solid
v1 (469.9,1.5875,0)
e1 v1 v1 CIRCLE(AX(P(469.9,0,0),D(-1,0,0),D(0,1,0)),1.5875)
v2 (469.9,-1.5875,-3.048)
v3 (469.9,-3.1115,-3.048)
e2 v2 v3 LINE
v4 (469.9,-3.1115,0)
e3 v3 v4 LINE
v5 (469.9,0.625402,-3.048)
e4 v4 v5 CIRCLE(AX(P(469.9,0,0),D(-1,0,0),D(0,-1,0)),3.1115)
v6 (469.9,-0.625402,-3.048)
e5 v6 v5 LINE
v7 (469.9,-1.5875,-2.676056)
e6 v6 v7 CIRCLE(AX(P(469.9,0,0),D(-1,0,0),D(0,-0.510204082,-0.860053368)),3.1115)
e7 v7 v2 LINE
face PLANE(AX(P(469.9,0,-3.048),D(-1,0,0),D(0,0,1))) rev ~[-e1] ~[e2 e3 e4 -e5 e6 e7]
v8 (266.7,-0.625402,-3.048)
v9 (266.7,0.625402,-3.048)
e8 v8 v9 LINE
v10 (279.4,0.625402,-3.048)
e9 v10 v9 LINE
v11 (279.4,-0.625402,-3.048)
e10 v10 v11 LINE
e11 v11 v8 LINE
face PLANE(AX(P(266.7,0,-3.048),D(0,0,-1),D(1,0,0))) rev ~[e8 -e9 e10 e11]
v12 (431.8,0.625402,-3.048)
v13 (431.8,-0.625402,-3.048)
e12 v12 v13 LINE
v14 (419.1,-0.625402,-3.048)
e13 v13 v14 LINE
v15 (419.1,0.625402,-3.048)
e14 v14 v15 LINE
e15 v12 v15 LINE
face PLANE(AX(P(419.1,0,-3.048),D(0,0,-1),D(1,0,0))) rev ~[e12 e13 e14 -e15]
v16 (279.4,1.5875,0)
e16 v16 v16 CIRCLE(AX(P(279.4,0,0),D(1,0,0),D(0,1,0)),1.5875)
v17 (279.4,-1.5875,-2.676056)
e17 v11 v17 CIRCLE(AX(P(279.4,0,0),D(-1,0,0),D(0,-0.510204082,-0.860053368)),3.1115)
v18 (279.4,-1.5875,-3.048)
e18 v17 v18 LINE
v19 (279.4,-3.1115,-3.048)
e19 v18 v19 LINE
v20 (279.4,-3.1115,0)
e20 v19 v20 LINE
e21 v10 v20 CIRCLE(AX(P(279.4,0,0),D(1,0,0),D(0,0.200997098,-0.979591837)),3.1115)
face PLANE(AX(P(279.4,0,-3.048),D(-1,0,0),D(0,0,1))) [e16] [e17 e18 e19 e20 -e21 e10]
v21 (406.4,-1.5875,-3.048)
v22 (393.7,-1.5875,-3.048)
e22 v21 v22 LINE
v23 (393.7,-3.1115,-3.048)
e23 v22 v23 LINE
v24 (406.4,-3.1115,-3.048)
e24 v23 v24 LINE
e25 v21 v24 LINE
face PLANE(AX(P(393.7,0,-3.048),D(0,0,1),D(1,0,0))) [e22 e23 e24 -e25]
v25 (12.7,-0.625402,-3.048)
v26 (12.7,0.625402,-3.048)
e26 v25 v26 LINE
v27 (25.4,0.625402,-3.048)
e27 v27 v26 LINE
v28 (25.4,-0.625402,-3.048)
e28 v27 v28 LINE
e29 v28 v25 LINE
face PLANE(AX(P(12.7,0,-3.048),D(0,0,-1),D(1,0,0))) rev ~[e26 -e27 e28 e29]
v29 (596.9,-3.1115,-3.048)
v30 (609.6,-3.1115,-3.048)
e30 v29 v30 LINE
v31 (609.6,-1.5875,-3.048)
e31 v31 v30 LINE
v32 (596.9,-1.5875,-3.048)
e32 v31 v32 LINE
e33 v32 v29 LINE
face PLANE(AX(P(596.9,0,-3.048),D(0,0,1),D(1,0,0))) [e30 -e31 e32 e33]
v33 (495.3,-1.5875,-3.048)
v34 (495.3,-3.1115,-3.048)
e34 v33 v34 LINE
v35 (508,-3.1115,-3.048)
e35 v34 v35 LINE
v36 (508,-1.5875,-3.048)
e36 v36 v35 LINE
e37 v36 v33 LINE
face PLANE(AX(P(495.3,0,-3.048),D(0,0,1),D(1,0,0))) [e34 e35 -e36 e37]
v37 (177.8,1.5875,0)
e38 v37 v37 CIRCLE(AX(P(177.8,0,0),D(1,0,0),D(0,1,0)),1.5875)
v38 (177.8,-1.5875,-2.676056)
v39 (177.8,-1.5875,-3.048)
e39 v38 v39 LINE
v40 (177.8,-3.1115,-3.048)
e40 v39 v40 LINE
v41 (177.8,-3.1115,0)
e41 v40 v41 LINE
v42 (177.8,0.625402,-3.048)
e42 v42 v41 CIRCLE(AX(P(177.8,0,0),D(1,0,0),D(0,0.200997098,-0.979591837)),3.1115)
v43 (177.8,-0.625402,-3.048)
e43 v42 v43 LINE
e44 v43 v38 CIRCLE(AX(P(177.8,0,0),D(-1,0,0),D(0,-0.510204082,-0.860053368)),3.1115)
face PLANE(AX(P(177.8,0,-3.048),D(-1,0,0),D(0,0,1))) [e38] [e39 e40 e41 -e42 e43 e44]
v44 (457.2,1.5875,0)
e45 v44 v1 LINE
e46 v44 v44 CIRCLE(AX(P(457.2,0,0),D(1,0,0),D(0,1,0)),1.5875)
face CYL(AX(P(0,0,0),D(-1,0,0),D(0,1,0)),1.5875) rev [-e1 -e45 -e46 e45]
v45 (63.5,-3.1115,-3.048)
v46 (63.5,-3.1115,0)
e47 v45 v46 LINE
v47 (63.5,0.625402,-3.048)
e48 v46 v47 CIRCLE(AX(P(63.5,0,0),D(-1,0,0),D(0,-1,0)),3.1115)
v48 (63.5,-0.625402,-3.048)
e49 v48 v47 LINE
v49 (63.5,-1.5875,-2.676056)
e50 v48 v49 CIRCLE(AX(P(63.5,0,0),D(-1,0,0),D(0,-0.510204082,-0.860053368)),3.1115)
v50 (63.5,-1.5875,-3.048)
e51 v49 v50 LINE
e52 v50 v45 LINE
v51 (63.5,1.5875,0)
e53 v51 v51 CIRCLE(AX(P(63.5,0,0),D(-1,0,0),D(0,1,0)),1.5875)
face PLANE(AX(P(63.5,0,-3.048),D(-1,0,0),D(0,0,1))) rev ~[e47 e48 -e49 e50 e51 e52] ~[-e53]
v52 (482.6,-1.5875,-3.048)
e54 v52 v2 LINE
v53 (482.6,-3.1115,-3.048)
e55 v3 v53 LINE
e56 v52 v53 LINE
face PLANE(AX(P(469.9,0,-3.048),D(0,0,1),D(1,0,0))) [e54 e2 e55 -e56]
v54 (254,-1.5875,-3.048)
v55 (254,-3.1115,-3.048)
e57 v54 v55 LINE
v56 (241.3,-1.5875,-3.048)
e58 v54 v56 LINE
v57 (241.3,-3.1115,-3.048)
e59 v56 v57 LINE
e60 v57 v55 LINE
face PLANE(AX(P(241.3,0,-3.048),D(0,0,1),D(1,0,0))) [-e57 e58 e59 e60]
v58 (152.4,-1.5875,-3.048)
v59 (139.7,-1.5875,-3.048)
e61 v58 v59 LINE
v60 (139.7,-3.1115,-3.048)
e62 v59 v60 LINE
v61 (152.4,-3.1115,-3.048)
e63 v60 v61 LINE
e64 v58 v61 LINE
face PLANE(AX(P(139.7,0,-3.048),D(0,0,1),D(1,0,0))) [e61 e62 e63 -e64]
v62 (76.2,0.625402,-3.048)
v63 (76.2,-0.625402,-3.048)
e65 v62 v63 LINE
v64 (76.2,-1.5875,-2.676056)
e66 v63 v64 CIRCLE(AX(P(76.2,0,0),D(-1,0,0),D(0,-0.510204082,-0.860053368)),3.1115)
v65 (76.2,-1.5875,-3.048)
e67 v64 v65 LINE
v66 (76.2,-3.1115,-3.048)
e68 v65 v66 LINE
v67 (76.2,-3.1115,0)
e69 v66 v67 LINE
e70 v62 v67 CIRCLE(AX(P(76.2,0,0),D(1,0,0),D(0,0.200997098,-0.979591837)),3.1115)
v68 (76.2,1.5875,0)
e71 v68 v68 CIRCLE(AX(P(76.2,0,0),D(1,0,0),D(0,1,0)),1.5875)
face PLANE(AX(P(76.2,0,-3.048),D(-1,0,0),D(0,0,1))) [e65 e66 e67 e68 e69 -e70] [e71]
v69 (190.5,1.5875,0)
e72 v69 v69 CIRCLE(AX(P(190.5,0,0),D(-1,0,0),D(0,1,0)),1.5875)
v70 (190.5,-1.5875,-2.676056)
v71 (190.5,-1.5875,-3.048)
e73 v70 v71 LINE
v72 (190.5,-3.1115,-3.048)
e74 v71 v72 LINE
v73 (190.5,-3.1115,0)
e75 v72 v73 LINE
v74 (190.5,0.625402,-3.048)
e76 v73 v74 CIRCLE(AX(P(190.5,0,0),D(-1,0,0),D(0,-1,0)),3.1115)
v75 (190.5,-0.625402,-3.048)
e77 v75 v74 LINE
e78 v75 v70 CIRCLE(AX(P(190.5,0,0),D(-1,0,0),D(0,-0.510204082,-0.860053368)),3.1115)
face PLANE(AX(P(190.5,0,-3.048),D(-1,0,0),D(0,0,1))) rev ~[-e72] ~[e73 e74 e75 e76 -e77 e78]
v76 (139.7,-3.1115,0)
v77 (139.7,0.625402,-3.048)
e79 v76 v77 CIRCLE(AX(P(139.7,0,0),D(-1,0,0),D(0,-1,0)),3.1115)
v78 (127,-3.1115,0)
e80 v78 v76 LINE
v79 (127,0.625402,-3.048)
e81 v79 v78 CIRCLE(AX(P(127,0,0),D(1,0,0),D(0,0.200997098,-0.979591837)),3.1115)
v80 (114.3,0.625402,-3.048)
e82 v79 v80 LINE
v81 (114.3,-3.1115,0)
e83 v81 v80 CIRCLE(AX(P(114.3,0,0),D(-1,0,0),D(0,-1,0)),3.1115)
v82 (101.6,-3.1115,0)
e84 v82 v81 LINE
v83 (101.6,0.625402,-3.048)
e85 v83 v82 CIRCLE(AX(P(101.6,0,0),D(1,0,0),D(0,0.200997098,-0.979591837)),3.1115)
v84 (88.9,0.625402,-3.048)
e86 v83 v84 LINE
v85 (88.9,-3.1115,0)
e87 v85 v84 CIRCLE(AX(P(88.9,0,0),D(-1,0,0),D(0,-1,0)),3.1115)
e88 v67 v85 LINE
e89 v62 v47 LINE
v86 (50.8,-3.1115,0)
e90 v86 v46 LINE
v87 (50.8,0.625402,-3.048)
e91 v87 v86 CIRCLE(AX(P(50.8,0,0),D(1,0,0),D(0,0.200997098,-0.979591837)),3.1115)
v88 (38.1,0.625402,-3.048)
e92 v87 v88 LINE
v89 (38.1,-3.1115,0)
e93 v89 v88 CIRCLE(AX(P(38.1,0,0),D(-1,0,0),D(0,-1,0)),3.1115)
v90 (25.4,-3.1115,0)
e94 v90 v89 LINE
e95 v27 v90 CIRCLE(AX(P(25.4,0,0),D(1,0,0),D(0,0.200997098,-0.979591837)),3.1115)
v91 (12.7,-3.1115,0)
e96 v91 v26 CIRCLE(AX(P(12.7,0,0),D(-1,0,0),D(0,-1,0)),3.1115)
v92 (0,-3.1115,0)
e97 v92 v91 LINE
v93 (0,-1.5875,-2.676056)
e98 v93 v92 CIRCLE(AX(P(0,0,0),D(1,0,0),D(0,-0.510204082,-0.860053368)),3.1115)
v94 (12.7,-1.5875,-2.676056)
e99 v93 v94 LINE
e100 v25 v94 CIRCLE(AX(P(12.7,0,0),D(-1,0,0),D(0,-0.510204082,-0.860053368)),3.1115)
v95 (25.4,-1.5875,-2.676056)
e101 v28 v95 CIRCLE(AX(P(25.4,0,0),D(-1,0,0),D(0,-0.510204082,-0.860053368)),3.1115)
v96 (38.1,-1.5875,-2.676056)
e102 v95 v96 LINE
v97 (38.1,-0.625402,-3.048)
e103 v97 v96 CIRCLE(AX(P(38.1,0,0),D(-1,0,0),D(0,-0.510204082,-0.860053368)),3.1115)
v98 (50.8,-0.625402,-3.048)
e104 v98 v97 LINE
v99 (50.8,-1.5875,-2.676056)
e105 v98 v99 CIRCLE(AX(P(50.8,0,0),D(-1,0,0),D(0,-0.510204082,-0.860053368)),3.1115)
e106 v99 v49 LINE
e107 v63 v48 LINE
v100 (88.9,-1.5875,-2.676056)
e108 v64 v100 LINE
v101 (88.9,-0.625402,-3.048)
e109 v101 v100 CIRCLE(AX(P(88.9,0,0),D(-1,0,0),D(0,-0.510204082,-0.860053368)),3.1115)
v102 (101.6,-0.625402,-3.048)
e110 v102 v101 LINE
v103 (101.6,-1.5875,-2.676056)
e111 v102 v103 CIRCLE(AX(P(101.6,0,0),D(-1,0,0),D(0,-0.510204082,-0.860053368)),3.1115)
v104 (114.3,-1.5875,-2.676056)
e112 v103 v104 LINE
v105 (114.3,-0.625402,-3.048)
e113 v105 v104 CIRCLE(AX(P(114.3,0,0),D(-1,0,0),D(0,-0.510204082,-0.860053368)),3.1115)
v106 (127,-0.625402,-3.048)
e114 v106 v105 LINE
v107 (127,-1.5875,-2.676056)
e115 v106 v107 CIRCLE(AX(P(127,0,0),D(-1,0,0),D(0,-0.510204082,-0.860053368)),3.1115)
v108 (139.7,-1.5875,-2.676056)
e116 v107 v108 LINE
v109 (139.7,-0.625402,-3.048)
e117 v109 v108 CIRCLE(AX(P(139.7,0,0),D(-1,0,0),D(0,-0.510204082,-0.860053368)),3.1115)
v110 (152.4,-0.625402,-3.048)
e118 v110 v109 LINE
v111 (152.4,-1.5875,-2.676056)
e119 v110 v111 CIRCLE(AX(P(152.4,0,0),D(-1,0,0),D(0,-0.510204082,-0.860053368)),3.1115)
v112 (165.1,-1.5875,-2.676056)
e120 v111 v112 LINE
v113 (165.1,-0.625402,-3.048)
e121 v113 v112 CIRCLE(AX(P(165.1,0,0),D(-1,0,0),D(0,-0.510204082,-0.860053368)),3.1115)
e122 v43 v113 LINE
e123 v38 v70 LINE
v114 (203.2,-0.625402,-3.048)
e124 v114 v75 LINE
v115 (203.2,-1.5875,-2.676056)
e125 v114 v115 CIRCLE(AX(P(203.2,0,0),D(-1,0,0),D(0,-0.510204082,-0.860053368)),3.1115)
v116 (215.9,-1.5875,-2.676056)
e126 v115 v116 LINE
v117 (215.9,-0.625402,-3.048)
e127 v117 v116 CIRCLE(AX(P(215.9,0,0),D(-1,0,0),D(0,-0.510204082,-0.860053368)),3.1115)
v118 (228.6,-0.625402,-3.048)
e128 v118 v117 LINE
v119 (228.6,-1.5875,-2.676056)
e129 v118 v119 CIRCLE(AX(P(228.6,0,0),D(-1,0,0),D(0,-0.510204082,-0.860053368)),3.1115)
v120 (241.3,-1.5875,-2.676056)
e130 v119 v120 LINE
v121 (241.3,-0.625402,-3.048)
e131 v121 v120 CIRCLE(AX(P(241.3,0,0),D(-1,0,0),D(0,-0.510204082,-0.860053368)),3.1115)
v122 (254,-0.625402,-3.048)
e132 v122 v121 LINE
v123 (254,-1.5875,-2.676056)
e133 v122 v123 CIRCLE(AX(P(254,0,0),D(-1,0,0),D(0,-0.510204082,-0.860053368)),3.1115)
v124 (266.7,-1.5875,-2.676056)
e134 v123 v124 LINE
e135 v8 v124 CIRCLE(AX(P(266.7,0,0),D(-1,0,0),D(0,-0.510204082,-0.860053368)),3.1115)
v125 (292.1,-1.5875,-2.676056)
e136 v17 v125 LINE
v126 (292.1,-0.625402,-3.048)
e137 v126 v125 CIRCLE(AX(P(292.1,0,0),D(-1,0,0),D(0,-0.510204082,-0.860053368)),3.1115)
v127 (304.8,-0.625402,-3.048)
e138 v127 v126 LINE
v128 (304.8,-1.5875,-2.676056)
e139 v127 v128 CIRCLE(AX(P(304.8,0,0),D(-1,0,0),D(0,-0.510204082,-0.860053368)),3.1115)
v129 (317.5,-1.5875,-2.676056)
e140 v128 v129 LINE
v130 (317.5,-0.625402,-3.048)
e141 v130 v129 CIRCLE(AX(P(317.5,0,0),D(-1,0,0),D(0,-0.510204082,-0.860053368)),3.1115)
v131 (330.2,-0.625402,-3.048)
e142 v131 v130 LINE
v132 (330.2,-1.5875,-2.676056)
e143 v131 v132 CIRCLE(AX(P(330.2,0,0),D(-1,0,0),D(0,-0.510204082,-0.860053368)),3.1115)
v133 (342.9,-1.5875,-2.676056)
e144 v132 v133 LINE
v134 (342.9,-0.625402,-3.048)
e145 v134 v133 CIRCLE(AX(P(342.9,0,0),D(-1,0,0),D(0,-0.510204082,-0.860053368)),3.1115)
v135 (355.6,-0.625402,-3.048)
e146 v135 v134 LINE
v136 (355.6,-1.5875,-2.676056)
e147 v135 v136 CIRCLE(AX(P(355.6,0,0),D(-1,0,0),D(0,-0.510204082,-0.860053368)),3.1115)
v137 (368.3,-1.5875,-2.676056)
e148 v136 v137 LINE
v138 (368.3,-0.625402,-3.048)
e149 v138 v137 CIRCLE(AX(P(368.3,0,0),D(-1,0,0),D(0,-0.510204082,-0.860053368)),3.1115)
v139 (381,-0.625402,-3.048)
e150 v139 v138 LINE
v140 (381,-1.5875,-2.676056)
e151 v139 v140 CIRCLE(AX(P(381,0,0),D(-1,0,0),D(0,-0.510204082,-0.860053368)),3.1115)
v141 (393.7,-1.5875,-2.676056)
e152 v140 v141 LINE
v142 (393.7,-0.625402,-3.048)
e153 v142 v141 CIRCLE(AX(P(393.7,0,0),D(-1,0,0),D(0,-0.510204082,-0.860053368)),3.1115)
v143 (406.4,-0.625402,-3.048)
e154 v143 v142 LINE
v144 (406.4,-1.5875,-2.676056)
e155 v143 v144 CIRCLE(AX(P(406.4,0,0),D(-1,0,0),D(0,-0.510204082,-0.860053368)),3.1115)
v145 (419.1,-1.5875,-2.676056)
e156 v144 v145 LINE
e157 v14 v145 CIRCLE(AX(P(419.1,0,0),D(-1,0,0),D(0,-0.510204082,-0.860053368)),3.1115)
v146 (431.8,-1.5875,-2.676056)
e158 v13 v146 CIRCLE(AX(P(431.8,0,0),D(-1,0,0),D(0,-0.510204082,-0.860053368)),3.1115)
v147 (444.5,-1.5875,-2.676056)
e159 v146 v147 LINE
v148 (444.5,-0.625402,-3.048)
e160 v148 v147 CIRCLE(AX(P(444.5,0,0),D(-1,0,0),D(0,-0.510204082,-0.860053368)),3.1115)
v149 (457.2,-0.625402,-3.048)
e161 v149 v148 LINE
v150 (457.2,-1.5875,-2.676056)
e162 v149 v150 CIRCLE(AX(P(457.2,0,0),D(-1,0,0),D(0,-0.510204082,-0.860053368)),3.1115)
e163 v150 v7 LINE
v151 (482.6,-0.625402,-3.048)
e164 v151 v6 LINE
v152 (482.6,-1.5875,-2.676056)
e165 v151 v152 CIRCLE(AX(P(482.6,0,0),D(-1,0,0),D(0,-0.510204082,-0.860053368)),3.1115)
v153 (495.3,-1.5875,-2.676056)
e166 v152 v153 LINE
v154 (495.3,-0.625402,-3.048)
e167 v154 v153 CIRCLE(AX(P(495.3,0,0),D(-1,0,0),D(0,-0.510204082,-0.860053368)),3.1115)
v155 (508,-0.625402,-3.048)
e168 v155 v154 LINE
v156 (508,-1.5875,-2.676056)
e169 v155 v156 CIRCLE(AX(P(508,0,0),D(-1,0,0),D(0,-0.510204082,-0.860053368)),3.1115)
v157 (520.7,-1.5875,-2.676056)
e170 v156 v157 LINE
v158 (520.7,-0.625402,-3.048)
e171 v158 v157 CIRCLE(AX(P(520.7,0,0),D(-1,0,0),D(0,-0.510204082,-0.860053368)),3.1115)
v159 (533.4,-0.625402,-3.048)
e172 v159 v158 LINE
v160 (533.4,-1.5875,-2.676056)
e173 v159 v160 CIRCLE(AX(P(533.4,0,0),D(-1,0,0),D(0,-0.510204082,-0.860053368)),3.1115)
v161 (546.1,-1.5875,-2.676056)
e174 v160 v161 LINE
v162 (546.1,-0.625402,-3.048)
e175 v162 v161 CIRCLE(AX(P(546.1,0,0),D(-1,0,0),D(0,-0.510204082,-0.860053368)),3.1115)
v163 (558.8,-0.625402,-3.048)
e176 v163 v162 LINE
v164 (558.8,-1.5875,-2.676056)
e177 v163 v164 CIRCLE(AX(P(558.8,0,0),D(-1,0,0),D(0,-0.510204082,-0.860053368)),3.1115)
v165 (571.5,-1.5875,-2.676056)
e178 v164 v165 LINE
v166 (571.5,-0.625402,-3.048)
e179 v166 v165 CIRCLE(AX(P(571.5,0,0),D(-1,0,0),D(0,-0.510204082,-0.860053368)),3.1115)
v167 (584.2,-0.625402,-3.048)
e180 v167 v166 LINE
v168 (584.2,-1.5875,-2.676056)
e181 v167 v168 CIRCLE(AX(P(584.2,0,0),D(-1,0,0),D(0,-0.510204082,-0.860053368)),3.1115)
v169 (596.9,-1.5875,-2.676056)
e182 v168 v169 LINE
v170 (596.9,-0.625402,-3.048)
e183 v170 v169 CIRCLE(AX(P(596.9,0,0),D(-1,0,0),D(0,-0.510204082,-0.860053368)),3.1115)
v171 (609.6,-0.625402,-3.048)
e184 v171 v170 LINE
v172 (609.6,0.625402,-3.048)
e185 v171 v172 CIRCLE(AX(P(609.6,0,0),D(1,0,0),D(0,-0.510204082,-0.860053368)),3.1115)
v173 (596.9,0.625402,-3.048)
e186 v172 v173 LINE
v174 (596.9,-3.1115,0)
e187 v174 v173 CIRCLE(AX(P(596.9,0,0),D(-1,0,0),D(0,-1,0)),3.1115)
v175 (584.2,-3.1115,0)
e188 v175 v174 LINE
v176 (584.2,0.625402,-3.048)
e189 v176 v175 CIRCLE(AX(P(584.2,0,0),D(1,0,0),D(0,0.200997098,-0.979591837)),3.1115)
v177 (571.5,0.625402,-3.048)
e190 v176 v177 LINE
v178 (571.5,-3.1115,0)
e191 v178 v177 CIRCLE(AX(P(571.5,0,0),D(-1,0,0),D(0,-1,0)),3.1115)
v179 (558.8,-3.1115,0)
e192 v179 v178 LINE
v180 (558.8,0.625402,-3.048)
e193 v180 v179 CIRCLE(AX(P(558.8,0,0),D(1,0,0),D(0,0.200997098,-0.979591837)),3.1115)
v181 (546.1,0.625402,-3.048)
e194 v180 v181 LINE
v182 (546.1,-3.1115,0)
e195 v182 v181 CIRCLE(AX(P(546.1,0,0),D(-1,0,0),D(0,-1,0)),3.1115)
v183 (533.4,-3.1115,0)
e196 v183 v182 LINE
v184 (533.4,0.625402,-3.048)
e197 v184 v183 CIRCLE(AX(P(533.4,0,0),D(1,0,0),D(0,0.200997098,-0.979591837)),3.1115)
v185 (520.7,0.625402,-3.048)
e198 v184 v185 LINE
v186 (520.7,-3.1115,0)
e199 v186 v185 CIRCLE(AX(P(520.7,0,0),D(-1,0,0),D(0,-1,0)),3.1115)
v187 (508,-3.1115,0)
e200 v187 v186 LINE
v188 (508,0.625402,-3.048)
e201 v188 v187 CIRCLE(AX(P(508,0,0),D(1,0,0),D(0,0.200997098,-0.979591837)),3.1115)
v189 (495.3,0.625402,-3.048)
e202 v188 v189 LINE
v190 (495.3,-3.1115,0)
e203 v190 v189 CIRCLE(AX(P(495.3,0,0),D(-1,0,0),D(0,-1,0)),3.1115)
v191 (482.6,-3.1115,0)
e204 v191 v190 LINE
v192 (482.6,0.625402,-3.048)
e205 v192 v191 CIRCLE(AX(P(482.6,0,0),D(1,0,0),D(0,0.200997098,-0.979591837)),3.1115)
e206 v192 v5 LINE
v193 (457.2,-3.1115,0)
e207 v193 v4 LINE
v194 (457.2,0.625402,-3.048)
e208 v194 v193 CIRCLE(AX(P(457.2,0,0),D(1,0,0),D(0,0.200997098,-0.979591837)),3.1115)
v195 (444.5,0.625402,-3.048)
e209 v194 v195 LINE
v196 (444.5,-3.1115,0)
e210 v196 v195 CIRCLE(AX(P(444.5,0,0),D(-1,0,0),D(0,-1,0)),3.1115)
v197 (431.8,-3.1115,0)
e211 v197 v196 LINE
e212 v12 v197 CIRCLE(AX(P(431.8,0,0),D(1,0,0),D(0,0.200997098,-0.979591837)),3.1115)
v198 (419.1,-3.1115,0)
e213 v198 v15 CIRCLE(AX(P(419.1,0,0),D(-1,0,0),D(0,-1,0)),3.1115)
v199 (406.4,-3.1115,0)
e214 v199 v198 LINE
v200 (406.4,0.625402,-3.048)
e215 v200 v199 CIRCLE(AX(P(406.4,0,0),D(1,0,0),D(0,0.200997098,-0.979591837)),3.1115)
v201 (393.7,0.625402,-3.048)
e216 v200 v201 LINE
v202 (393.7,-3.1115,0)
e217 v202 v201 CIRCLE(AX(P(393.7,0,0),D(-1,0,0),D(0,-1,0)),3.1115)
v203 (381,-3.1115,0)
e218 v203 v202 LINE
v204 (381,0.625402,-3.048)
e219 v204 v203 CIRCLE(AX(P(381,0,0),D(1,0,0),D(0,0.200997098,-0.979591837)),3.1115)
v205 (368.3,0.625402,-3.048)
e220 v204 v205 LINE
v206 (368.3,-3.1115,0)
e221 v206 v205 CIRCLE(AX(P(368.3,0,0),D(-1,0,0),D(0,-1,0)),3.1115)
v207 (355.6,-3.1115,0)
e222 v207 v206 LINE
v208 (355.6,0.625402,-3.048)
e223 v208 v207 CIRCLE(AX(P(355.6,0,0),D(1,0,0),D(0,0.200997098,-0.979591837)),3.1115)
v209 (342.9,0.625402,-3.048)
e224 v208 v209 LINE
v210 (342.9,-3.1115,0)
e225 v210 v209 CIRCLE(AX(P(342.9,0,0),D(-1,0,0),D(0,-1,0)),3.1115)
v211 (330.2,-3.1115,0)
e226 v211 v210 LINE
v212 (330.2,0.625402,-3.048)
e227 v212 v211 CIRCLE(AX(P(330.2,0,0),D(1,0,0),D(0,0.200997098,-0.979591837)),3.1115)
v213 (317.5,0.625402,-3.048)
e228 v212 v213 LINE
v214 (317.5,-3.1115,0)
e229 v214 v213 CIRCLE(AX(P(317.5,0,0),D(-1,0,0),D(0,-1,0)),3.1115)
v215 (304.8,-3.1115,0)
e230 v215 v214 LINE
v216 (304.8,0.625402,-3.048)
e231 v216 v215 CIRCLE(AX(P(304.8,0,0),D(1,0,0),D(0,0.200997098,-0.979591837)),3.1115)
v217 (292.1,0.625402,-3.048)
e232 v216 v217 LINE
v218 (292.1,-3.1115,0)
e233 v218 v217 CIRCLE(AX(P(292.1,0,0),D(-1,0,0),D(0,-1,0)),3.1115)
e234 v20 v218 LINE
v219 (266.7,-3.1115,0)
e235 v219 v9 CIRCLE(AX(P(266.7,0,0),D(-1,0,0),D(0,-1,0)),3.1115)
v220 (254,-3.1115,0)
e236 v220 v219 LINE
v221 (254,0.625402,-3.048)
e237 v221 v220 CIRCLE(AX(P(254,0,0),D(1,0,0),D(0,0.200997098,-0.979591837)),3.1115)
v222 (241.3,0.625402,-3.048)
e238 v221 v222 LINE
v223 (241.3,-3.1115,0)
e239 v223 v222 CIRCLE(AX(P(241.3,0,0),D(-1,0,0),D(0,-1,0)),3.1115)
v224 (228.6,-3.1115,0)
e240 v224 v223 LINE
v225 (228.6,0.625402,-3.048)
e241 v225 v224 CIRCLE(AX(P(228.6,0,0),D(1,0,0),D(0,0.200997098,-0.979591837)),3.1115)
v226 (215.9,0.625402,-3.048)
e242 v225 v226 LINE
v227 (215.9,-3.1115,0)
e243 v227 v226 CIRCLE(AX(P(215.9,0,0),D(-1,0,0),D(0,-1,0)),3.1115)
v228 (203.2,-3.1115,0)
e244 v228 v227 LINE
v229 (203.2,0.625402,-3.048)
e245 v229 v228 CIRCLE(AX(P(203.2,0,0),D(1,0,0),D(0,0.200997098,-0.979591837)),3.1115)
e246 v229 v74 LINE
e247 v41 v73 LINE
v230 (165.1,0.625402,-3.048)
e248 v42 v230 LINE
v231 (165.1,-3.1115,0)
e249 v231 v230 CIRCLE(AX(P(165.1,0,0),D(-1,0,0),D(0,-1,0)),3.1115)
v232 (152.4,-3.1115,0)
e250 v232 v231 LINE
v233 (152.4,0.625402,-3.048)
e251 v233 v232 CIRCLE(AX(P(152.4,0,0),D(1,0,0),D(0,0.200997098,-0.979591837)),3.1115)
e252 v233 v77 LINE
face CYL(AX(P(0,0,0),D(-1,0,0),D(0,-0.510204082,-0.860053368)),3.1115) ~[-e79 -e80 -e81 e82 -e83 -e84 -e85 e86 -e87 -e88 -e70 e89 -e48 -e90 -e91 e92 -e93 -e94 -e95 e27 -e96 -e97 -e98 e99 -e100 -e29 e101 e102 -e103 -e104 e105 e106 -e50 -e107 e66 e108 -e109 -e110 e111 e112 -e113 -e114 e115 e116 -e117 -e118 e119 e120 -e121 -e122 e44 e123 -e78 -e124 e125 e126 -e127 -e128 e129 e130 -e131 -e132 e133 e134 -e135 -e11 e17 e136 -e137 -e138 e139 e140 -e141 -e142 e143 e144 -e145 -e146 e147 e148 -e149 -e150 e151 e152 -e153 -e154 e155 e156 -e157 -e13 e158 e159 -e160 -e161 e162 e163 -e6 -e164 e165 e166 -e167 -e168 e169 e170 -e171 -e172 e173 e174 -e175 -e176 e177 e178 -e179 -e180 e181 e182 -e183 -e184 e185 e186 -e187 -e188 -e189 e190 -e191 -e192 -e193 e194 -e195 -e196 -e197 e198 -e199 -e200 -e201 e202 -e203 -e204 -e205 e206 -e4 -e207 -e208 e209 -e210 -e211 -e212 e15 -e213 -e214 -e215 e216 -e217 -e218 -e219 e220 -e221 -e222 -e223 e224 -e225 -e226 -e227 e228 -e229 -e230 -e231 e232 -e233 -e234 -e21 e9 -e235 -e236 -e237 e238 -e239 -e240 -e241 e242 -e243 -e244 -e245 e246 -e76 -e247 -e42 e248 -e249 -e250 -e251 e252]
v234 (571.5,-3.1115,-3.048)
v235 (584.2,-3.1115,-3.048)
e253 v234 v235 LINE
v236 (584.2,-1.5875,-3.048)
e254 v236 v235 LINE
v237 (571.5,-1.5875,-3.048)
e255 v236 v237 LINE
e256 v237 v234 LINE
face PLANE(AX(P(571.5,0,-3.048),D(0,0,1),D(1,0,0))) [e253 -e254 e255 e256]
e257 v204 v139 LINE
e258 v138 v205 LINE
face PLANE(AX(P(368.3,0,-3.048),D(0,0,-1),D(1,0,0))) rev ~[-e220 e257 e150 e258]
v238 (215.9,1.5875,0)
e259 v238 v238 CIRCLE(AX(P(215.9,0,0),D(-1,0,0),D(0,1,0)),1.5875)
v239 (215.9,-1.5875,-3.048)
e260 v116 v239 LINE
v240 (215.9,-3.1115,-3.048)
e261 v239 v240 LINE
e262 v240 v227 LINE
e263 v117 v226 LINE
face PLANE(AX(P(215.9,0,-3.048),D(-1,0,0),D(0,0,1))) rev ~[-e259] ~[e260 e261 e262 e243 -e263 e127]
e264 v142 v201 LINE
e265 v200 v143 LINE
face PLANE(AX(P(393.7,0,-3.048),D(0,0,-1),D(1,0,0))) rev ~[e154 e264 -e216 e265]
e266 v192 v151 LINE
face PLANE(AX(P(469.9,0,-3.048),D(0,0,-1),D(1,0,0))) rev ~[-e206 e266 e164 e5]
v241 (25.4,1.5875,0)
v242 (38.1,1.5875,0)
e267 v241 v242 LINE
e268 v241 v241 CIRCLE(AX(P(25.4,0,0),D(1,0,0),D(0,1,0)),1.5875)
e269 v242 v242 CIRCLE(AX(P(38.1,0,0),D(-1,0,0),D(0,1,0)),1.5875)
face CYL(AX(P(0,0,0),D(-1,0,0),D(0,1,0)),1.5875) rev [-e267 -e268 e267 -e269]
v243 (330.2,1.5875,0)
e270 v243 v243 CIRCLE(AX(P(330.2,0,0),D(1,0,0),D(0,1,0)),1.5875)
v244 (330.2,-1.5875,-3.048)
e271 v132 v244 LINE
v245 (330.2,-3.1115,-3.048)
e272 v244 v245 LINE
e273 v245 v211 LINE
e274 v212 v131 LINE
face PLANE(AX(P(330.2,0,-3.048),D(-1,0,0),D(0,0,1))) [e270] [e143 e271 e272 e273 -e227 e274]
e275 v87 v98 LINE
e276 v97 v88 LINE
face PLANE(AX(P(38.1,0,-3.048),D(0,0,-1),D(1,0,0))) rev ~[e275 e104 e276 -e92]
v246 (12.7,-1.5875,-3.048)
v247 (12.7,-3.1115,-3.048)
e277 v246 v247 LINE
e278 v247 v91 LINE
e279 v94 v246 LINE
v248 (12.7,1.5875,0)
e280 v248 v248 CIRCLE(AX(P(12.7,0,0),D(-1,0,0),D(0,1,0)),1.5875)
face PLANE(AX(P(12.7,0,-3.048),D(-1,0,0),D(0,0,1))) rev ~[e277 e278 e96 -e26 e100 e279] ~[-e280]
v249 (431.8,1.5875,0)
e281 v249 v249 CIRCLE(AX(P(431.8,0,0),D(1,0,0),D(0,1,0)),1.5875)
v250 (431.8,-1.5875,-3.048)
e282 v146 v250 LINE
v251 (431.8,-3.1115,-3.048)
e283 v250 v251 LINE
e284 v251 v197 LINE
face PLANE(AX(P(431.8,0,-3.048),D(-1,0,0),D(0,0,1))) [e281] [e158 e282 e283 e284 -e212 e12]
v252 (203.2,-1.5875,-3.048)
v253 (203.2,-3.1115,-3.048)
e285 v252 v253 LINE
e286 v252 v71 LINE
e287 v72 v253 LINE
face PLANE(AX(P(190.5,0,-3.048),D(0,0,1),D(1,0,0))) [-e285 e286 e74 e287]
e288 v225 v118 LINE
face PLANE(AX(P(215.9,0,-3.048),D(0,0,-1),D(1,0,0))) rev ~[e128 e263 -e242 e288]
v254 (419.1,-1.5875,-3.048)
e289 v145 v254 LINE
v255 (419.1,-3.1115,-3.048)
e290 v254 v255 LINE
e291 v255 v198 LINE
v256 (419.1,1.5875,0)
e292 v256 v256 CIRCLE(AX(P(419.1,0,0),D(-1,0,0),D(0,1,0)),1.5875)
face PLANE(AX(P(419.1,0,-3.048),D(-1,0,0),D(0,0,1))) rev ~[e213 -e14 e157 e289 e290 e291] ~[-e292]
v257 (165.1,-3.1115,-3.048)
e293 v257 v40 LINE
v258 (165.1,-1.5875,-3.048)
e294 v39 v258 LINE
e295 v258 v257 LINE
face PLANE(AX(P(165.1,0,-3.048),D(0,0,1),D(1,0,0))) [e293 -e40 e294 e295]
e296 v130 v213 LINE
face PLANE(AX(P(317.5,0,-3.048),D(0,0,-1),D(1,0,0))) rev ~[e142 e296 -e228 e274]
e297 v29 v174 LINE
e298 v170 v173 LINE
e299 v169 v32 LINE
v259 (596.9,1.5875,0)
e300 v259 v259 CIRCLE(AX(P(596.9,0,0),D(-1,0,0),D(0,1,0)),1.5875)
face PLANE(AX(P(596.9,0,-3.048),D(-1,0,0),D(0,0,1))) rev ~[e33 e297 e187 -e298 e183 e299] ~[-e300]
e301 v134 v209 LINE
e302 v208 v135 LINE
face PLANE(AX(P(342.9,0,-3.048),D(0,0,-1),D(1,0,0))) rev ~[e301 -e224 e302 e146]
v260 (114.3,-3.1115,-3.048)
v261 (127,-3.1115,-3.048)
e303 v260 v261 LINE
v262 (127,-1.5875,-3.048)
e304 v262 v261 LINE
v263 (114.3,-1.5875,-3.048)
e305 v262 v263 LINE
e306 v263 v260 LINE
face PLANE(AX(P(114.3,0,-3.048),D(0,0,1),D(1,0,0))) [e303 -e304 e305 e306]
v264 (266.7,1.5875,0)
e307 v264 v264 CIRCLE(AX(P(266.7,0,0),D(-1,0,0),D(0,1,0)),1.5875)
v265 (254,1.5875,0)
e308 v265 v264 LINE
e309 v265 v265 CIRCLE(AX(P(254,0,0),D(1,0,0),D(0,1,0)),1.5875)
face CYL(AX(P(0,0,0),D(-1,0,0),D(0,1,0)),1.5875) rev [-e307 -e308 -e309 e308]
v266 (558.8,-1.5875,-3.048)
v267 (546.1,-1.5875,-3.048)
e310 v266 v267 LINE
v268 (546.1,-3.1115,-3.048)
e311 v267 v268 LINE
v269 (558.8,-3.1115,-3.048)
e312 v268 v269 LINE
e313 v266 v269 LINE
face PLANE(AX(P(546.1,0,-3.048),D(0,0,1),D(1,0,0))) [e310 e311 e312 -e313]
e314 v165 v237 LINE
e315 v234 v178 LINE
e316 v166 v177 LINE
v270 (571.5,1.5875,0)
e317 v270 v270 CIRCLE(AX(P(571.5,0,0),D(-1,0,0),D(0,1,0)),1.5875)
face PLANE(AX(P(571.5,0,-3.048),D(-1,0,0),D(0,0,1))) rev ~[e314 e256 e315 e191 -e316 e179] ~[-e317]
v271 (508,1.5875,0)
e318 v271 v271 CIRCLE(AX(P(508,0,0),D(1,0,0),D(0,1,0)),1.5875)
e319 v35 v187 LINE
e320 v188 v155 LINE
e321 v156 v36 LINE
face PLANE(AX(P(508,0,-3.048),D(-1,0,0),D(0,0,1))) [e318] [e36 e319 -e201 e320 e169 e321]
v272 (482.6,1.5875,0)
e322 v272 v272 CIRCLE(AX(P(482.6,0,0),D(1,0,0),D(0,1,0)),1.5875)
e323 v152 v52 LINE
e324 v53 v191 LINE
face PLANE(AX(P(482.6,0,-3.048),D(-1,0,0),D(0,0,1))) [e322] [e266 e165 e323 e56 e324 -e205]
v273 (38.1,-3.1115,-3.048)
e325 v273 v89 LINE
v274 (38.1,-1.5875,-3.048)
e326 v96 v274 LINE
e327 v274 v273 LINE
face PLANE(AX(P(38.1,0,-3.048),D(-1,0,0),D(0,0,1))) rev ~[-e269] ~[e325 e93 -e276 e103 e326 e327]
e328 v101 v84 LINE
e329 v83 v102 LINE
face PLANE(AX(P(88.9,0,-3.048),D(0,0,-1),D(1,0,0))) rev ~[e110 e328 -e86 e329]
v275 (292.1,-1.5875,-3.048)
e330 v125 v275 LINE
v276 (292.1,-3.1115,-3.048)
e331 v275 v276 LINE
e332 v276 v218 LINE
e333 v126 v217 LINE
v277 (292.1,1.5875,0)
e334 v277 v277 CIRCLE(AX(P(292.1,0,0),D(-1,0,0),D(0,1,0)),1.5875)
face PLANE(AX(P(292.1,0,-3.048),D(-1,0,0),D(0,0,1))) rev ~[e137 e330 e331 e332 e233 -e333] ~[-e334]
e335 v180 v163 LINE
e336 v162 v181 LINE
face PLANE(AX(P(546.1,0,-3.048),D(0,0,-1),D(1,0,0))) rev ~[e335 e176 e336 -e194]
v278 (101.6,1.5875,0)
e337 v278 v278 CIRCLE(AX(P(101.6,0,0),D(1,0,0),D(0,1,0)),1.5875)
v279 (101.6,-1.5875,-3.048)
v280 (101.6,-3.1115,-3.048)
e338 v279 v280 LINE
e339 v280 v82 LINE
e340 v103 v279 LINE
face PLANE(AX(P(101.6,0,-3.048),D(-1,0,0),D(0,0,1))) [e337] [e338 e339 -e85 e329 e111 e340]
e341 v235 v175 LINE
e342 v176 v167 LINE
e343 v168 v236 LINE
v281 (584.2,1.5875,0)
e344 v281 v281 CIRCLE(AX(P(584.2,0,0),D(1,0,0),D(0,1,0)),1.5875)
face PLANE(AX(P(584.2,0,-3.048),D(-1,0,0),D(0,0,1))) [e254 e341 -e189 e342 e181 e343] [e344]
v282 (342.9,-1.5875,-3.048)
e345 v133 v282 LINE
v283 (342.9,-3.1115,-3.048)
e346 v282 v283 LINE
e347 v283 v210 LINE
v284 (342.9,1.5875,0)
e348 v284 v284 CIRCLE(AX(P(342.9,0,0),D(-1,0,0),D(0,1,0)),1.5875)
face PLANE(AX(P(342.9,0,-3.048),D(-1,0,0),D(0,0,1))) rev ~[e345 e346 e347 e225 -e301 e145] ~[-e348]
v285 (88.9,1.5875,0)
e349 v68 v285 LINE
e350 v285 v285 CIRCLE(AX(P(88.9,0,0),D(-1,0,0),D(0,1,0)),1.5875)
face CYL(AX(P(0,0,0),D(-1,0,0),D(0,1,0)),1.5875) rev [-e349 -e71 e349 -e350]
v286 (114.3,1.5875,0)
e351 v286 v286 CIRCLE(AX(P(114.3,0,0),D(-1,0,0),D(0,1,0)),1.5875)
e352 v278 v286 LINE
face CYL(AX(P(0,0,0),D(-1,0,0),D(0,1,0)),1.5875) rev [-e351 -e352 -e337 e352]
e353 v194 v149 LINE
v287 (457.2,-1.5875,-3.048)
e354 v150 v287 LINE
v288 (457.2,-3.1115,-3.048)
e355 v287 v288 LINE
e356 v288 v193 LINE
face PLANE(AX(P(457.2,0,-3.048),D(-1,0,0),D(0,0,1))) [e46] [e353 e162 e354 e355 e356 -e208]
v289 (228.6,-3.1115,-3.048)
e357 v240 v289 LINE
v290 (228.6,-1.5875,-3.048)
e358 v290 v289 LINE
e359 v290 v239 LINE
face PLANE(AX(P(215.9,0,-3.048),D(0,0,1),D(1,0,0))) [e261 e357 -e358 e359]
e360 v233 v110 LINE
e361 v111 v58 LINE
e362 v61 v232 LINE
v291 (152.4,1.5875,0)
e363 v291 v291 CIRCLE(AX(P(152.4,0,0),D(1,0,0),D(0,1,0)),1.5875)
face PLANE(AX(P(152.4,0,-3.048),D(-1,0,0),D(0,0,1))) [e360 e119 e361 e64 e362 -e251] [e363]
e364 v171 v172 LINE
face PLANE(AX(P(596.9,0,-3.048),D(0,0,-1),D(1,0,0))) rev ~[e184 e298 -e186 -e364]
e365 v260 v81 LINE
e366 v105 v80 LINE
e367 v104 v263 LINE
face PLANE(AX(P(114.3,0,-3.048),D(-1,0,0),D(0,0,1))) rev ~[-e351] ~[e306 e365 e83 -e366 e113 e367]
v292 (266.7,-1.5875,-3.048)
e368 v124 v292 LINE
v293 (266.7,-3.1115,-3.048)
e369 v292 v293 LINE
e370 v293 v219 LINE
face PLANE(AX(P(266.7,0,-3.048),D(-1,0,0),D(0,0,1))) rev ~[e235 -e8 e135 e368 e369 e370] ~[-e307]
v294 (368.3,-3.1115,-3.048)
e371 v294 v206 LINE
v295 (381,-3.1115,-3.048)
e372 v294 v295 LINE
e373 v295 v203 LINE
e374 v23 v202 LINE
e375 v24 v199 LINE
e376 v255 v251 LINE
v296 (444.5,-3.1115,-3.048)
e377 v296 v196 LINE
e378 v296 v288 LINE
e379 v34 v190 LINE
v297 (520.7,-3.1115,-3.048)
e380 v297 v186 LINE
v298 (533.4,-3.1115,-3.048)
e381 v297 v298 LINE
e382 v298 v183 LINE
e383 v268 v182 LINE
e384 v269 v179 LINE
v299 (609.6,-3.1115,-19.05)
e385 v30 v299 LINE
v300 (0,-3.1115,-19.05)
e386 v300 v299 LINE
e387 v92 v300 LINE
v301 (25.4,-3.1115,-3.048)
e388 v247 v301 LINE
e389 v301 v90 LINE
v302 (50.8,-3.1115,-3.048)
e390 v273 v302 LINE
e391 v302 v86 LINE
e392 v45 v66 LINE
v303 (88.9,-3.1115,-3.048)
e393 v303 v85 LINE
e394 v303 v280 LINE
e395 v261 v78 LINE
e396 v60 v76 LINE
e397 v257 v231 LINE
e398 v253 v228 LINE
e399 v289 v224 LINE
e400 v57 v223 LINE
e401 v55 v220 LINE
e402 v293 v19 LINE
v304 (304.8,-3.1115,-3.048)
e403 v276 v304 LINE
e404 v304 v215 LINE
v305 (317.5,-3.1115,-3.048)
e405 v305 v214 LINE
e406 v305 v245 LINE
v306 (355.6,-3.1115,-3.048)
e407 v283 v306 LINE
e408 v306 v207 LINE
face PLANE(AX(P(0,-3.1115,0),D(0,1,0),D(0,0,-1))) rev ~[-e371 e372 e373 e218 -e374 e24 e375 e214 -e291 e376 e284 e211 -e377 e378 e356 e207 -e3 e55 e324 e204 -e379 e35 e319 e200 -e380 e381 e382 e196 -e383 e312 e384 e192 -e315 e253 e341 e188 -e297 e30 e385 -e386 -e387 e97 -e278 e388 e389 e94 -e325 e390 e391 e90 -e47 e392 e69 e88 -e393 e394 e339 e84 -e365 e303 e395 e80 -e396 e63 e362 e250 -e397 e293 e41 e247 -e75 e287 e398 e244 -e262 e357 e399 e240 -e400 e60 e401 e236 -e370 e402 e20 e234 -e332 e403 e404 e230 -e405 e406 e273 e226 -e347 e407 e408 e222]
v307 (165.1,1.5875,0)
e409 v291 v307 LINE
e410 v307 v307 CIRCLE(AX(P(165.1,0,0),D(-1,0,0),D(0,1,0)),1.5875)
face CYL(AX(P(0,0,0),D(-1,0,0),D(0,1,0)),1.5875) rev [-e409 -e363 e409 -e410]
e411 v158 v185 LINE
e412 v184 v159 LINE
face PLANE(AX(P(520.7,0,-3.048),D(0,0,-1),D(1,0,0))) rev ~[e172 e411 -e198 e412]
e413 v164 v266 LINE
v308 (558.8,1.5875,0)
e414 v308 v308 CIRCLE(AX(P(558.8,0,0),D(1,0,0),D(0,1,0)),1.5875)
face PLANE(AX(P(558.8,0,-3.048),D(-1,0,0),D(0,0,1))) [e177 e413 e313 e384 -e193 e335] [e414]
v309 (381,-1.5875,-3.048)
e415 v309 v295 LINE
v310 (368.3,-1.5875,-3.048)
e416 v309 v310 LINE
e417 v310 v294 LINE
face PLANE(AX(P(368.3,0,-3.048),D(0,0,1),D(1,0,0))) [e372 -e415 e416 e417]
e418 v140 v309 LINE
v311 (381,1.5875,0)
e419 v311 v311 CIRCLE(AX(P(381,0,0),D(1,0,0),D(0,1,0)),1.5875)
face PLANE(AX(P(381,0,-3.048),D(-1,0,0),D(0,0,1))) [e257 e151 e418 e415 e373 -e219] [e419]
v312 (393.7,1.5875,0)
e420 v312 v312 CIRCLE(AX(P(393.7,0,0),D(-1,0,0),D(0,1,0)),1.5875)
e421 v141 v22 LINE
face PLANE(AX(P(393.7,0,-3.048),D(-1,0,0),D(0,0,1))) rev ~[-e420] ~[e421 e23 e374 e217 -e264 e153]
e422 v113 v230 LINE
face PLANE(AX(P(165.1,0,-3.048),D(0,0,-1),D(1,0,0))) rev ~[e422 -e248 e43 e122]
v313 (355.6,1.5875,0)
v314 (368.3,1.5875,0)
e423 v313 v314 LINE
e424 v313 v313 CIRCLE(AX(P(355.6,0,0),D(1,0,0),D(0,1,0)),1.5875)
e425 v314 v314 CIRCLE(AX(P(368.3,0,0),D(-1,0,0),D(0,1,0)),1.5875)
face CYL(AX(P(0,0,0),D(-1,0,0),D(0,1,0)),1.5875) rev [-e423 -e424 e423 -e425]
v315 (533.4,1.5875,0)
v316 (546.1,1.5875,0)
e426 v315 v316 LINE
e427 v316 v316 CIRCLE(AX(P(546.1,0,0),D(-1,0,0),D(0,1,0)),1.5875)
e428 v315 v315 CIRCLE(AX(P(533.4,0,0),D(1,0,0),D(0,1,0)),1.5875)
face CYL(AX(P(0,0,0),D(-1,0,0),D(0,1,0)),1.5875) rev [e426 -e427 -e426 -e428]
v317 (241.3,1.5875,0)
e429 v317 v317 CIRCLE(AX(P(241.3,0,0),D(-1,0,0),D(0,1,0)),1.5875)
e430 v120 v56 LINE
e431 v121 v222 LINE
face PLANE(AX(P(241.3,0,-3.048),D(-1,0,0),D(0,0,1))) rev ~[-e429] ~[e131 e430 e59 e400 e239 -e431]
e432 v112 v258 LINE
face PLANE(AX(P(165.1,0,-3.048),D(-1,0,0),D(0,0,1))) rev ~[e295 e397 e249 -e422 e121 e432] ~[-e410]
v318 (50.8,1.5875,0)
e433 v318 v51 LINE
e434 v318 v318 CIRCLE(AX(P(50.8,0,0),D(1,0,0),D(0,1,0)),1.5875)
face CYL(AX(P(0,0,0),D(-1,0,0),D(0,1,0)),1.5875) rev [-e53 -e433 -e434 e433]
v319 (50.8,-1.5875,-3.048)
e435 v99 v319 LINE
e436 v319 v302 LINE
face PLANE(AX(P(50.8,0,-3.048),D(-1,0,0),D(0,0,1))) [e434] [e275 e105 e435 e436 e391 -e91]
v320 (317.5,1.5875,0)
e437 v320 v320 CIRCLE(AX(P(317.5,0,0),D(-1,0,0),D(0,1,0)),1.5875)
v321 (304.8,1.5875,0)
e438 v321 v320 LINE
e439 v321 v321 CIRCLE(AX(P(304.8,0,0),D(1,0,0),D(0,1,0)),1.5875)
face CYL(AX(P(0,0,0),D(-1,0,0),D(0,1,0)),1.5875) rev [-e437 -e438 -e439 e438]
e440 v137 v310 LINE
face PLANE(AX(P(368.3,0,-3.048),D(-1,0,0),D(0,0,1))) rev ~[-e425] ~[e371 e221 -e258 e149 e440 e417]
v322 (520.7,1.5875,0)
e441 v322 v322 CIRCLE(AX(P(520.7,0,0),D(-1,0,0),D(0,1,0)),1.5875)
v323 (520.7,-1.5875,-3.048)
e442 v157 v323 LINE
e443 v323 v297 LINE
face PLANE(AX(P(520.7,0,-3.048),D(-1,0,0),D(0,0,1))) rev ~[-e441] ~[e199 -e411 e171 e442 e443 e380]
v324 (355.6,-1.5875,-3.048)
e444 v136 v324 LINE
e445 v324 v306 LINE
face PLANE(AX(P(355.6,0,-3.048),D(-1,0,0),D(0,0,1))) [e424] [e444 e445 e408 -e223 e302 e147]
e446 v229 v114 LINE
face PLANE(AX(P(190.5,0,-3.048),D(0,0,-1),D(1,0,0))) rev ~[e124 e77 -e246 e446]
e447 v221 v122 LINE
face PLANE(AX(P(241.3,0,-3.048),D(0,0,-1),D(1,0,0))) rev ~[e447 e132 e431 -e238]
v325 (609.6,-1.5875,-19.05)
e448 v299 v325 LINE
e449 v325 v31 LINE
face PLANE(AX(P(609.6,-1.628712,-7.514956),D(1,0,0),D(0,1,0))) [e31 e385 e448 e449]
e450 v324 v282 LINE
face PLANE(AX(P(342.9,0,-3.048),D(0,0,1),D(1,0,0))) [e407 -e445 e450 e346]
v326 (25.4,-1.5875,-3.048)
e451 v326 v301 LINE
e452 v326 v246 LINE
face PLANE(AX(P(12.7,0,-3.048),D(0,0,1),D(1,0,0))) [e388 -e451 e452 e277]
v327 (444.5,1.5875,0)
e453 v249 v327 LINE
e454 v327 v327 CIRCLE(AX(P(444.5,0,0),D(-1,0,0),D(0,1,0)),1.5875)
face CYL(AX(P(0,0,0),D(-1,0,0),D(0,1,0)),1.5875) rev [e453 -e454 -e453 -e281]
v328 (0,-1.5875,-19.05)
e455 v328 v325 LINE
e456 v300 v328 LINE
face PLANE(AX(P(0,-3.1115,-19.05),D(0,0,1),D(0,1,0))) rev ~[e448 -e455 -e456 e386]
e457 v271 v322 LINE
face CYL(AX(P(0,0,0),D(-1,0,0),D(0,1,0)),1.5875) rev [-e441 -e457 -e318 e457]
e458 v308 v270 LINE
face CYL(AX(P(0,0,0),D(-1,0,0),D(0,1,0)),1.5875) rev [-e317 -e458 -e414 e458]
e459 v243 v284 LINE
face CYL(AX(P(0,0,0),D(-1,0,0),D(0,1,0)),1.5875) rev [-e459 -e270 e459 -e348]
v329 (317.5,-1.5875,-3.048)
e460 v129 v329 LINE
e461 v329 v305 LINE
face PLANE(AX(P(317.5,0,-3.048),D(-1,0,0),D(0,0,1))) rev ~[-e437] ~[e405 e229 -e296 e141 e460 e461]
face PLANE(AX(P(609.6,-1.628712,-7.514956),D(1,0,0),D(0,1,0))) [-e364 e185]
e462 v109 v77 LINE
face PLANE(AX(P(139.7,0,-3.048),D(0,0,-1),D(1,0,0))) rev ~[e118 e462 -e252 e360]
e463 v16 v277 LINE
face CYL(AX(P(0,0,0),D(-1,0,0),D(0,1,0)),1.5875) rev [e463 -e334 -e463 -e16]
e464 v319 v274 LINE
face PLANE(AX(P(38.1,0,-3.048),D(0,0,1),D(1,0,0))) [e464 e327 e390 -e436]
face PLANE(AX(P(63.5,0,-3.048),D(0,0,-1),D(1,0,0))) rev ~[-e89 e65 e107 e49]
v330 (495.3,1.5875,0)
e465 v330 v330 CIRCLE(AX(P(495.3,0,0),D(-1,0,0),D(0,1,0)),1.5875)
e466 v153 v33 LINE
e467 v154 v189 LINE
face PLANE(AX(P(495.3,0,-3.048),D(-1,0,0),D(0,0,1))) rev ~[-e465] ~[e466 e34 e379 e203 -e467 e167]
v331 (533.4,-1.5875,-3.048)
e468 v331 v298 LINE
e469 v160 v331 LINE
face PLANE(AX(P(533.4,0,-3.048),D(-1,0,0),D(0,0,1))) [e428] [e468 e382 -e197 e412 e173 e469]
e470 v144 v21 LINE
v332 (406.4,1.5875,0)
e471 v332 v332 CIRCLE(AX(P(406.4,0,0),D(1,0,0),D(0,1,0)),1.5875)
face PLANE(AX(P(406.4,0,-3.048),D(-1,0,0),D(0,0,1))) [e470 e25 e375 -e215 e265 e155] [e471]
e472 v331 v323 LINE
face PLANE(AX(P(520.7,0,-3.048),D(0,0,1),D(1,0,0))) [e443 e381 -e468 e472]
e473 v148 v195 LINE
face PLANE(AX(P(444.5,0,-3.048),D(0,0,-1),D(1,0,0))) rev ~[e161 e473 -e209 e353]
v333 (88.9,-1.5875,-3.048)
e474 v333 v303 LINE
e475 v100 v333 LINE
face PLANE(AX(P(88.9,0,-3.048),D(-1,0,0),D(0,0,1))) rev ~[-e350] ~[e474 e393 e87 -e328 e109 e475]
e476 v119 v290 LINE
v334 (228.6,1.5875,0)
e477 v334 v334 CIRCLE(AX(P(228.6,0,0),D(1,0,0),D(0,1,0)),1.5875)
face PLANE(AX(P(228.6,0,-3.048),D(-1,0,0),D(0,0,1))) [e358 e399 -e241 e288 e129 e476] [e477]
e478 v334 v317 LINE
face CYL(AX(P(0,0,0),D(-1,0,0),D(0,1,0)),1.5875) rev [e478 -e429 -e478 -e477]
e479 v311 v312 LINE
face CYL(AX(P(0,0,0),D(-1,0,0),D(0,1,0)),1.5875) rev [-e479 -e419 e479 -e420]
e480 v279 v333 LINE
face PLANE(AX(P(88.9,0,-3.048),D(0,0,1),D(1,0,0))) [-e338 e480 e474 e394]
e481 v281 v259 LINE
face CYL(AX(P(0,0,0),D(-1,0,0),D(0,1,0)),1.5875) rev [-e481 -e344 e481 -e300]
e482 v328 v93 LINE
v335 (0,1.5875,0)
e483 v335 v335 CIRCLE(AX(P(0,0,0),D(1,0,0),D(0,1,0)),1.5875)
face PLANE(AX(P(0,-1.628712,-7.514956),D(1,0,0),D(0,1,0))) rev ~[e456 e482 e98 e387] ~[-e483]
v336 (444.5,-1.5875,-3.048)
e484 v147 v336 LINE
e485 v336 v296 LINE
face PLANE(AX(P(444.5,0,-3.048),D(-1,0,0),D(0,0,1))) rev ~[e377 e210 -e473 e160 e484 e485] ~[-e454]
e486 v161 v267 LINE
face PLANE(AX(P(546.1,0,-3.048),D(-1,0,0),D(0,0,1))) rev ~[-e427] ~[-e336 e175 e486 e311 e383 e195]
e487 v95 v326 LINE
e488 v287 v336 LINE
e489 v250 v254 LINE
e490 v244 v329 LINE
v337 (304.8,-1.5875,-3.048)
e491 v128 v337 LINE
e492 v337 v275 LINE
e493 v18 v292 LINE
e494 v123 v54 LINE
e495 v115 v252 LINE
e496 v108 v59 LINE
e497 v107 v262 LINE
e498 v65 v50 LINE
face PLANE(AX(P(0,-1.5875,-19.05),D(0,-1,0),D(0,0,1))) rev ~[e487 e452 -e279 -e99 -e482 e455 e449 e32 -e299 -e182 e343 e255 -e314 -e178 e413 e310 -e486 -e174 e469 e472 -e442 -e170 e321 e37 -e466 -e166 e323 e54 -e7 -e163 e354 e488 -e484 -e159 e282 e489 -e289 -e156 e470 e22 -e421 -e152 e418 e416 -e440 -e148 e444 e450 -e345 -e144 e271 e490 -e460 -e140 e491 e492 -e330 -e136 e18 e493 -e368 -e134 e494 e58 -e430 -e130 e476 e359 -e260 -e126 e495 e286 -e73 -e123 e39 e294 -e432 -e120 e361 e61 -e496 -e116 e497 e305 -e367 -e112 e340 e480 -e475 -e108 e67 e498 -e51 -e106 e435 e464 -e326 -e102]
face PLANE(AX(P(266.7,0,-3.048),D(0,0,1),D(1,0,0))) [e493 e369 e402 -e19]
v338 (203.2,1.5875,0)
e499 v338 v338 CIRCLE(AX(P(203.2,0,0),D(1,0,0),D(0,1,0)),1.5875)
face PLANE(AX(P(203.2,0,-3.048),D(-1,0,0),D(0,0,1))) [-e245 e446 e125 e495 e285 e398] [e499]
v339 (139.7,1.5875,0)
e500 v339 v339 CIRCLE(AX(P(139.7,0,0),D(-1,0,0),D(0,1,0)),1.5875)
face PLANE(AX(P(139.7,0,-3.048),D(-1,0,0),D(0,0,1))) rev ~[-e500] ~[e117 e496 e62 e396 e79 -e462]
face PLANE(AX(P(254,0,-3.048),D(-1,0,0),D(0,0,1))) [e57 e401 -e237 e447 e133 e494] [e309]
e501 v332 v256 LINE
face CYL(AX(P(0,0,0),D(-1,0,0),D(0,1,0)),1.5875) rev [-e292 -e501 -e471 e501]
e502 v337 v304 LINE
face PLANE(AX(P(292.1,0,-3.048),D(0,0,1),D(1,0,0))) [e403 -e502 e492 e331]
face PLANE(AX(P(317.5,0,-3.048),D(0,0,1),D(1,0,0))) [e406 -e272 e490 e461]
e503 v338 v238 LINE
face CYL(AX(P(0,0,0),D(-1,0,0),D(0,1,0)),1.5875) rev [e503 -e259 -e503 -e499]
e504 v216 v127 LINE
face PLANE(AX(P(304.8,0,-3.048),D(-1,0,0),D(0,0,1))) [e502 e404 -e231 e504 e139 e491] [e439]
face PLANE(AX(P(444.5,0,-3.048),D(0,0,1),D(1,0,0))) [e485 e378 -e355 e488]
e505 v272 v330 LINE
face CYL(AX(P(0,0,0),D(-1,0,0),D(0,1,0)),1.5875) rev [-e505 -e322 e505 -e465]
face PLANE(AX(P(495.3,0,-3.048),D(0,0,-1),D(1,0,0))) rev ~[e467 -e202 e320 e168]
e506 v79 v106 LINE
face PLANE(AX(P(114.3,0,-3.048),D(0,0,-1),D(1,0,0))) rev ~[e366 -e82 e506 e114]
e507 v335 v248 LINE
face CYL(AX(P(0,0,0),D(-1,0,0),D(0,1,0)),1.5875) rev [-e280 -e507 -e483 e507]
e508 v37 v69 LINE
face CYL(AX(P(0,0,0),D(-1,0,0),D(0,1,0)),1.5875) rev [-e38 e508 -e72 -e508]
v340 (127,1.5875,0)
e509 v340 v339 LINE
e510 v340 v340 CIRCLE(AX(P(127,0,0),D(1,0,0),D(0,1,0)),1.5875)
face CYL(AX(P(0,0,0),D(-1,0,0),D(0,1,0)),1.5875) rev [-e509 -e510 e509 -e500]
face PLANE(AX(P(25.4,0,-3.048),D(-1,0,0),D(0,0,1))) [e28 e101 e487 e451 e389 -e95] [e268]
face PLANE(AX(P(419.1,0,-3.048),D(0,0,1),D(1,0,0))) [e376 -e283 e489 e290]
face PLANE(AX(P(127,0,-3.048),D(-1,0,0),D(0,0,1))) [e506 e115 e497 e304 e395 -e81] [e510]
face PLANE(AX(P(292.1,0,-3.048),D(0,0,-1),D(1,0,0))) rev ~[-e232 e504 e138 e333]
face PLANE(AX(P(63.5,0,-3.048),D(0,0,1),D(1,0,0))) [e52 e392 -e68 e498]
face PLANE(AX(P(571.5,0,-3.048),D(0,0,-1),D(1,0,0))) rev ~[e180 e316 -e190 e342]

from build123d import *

# Parameters (mm, degrees)
F0_R          = 1.5875
F1_DEPTH      = 609.6
F2_W          = 12.7
F2_H          = 6.223
F3_DEPTH      = 25.4
F3_DEPTH_BACK = 25.4


with BuildPart() as f1:
    # F0 (on Right) → F1 (new body)
    with BuildSketch(Plane.YZ):
        with BuildLine():
            Line((-1.5875, -19.05), (-1.5875, -2.6760560532))
            ThreePointArc((-1.5875, -2.6760560532), (2.7037879447, 1.5397931679), (-3.1115, 0))
            Line((-3.1115, 0), (-3.1115, -19.05))
            Line((-3.1115, -19.05), (-1.5875, -19.05))
        make_face()
        Circle(F0_R, mode=Mode.SUBTRACT)
    extrude(amount=F1_DEPTH)

    # F2 (on Front) → F3 (cut, two sides)
    with BuildSketch(Plane.XZ) as f3_sk:
        with Locations((19.05, 0.0635)):
            Rectangle(F2_W, F2_H)
        with Locations((44.45, 0.0635)):
            Rectangle(F2_W, F2_H)
        with Locations((69.85, 0.0635)):
            Rectangle(F2_W, F2_H)
        with Locations((95.25, 0.0635)):
            Rectangle(F2_W, F2_H)
        with Locations((120.65, 0.0635)):
            Rectangle(F2_W, F2_H)
        with Locations((146.05, 0.0635)):
            Rectangle(F2_W, F2_H)
        with Locations((171.45, 0.0635)):
            Rectangle(F2_W, F2_H)
        with Locations((196.85, 0.0635)):
            Rectangle(F2_W, F2_H)
        with Locations((222.25, 0.0635)):
            Rectangle(F2_W, F2_H)
        with Locations((247.65, 0.0635)):
            Rectangle(F2_W, F2_H)
        with Locations((273.05, 0.0635)):
            Rectangle(F2_W, F2_H)
        with Locations((298.45, 0.0635)):
            Rectangle(F2_W, F2_H)
        with Locations((323.85, 0.0635)):
            Rectangle(F2_W, F2_H)
        with Locations((349.25, 0.0635)):
            Rectangle(F2_W, F2_H)
        with Locations((374.65, 0.0635)):
            Rectangle(F2_W, F2_H)
        with Locations((400.05, 0.0635)):
            Rectangle(F2_W, F2_H)
        with Locations((425.45, 0.0635)):
            Rectangle(F2_W, F2_H)
        with Locations((450.85, 0.0635)):
            Rectangle(F2_W, F2_H)
        with Locations((476.25, 0.0635)):
            Rectangle(F2_W, F2_H)
        with Locations((501.65, 0.0635)):
            Rectangle(F2_W, F2_H)
        with Locations((527.05, 0.0635)):
            Rectangle(F2_W, F2_H)
        with Locations((552.45, 0.0635)):
            Rectangle(F2_W, F2_H)
        with Locations((577.85, 0.0635)):
            Rectangle(F2_W, F2_H)
        with Locations((603.25, 0.0635)):
            Rectangle(F2_W, F2_H)
    extrude(amount=-F3_DEPTH, mode=Mode.SUBTRACT)
    extrude(f3_sk.sketch, amount=F3_DEPTH_BACK, mode=Mode.SUBTRACT)


solid = f1.part
